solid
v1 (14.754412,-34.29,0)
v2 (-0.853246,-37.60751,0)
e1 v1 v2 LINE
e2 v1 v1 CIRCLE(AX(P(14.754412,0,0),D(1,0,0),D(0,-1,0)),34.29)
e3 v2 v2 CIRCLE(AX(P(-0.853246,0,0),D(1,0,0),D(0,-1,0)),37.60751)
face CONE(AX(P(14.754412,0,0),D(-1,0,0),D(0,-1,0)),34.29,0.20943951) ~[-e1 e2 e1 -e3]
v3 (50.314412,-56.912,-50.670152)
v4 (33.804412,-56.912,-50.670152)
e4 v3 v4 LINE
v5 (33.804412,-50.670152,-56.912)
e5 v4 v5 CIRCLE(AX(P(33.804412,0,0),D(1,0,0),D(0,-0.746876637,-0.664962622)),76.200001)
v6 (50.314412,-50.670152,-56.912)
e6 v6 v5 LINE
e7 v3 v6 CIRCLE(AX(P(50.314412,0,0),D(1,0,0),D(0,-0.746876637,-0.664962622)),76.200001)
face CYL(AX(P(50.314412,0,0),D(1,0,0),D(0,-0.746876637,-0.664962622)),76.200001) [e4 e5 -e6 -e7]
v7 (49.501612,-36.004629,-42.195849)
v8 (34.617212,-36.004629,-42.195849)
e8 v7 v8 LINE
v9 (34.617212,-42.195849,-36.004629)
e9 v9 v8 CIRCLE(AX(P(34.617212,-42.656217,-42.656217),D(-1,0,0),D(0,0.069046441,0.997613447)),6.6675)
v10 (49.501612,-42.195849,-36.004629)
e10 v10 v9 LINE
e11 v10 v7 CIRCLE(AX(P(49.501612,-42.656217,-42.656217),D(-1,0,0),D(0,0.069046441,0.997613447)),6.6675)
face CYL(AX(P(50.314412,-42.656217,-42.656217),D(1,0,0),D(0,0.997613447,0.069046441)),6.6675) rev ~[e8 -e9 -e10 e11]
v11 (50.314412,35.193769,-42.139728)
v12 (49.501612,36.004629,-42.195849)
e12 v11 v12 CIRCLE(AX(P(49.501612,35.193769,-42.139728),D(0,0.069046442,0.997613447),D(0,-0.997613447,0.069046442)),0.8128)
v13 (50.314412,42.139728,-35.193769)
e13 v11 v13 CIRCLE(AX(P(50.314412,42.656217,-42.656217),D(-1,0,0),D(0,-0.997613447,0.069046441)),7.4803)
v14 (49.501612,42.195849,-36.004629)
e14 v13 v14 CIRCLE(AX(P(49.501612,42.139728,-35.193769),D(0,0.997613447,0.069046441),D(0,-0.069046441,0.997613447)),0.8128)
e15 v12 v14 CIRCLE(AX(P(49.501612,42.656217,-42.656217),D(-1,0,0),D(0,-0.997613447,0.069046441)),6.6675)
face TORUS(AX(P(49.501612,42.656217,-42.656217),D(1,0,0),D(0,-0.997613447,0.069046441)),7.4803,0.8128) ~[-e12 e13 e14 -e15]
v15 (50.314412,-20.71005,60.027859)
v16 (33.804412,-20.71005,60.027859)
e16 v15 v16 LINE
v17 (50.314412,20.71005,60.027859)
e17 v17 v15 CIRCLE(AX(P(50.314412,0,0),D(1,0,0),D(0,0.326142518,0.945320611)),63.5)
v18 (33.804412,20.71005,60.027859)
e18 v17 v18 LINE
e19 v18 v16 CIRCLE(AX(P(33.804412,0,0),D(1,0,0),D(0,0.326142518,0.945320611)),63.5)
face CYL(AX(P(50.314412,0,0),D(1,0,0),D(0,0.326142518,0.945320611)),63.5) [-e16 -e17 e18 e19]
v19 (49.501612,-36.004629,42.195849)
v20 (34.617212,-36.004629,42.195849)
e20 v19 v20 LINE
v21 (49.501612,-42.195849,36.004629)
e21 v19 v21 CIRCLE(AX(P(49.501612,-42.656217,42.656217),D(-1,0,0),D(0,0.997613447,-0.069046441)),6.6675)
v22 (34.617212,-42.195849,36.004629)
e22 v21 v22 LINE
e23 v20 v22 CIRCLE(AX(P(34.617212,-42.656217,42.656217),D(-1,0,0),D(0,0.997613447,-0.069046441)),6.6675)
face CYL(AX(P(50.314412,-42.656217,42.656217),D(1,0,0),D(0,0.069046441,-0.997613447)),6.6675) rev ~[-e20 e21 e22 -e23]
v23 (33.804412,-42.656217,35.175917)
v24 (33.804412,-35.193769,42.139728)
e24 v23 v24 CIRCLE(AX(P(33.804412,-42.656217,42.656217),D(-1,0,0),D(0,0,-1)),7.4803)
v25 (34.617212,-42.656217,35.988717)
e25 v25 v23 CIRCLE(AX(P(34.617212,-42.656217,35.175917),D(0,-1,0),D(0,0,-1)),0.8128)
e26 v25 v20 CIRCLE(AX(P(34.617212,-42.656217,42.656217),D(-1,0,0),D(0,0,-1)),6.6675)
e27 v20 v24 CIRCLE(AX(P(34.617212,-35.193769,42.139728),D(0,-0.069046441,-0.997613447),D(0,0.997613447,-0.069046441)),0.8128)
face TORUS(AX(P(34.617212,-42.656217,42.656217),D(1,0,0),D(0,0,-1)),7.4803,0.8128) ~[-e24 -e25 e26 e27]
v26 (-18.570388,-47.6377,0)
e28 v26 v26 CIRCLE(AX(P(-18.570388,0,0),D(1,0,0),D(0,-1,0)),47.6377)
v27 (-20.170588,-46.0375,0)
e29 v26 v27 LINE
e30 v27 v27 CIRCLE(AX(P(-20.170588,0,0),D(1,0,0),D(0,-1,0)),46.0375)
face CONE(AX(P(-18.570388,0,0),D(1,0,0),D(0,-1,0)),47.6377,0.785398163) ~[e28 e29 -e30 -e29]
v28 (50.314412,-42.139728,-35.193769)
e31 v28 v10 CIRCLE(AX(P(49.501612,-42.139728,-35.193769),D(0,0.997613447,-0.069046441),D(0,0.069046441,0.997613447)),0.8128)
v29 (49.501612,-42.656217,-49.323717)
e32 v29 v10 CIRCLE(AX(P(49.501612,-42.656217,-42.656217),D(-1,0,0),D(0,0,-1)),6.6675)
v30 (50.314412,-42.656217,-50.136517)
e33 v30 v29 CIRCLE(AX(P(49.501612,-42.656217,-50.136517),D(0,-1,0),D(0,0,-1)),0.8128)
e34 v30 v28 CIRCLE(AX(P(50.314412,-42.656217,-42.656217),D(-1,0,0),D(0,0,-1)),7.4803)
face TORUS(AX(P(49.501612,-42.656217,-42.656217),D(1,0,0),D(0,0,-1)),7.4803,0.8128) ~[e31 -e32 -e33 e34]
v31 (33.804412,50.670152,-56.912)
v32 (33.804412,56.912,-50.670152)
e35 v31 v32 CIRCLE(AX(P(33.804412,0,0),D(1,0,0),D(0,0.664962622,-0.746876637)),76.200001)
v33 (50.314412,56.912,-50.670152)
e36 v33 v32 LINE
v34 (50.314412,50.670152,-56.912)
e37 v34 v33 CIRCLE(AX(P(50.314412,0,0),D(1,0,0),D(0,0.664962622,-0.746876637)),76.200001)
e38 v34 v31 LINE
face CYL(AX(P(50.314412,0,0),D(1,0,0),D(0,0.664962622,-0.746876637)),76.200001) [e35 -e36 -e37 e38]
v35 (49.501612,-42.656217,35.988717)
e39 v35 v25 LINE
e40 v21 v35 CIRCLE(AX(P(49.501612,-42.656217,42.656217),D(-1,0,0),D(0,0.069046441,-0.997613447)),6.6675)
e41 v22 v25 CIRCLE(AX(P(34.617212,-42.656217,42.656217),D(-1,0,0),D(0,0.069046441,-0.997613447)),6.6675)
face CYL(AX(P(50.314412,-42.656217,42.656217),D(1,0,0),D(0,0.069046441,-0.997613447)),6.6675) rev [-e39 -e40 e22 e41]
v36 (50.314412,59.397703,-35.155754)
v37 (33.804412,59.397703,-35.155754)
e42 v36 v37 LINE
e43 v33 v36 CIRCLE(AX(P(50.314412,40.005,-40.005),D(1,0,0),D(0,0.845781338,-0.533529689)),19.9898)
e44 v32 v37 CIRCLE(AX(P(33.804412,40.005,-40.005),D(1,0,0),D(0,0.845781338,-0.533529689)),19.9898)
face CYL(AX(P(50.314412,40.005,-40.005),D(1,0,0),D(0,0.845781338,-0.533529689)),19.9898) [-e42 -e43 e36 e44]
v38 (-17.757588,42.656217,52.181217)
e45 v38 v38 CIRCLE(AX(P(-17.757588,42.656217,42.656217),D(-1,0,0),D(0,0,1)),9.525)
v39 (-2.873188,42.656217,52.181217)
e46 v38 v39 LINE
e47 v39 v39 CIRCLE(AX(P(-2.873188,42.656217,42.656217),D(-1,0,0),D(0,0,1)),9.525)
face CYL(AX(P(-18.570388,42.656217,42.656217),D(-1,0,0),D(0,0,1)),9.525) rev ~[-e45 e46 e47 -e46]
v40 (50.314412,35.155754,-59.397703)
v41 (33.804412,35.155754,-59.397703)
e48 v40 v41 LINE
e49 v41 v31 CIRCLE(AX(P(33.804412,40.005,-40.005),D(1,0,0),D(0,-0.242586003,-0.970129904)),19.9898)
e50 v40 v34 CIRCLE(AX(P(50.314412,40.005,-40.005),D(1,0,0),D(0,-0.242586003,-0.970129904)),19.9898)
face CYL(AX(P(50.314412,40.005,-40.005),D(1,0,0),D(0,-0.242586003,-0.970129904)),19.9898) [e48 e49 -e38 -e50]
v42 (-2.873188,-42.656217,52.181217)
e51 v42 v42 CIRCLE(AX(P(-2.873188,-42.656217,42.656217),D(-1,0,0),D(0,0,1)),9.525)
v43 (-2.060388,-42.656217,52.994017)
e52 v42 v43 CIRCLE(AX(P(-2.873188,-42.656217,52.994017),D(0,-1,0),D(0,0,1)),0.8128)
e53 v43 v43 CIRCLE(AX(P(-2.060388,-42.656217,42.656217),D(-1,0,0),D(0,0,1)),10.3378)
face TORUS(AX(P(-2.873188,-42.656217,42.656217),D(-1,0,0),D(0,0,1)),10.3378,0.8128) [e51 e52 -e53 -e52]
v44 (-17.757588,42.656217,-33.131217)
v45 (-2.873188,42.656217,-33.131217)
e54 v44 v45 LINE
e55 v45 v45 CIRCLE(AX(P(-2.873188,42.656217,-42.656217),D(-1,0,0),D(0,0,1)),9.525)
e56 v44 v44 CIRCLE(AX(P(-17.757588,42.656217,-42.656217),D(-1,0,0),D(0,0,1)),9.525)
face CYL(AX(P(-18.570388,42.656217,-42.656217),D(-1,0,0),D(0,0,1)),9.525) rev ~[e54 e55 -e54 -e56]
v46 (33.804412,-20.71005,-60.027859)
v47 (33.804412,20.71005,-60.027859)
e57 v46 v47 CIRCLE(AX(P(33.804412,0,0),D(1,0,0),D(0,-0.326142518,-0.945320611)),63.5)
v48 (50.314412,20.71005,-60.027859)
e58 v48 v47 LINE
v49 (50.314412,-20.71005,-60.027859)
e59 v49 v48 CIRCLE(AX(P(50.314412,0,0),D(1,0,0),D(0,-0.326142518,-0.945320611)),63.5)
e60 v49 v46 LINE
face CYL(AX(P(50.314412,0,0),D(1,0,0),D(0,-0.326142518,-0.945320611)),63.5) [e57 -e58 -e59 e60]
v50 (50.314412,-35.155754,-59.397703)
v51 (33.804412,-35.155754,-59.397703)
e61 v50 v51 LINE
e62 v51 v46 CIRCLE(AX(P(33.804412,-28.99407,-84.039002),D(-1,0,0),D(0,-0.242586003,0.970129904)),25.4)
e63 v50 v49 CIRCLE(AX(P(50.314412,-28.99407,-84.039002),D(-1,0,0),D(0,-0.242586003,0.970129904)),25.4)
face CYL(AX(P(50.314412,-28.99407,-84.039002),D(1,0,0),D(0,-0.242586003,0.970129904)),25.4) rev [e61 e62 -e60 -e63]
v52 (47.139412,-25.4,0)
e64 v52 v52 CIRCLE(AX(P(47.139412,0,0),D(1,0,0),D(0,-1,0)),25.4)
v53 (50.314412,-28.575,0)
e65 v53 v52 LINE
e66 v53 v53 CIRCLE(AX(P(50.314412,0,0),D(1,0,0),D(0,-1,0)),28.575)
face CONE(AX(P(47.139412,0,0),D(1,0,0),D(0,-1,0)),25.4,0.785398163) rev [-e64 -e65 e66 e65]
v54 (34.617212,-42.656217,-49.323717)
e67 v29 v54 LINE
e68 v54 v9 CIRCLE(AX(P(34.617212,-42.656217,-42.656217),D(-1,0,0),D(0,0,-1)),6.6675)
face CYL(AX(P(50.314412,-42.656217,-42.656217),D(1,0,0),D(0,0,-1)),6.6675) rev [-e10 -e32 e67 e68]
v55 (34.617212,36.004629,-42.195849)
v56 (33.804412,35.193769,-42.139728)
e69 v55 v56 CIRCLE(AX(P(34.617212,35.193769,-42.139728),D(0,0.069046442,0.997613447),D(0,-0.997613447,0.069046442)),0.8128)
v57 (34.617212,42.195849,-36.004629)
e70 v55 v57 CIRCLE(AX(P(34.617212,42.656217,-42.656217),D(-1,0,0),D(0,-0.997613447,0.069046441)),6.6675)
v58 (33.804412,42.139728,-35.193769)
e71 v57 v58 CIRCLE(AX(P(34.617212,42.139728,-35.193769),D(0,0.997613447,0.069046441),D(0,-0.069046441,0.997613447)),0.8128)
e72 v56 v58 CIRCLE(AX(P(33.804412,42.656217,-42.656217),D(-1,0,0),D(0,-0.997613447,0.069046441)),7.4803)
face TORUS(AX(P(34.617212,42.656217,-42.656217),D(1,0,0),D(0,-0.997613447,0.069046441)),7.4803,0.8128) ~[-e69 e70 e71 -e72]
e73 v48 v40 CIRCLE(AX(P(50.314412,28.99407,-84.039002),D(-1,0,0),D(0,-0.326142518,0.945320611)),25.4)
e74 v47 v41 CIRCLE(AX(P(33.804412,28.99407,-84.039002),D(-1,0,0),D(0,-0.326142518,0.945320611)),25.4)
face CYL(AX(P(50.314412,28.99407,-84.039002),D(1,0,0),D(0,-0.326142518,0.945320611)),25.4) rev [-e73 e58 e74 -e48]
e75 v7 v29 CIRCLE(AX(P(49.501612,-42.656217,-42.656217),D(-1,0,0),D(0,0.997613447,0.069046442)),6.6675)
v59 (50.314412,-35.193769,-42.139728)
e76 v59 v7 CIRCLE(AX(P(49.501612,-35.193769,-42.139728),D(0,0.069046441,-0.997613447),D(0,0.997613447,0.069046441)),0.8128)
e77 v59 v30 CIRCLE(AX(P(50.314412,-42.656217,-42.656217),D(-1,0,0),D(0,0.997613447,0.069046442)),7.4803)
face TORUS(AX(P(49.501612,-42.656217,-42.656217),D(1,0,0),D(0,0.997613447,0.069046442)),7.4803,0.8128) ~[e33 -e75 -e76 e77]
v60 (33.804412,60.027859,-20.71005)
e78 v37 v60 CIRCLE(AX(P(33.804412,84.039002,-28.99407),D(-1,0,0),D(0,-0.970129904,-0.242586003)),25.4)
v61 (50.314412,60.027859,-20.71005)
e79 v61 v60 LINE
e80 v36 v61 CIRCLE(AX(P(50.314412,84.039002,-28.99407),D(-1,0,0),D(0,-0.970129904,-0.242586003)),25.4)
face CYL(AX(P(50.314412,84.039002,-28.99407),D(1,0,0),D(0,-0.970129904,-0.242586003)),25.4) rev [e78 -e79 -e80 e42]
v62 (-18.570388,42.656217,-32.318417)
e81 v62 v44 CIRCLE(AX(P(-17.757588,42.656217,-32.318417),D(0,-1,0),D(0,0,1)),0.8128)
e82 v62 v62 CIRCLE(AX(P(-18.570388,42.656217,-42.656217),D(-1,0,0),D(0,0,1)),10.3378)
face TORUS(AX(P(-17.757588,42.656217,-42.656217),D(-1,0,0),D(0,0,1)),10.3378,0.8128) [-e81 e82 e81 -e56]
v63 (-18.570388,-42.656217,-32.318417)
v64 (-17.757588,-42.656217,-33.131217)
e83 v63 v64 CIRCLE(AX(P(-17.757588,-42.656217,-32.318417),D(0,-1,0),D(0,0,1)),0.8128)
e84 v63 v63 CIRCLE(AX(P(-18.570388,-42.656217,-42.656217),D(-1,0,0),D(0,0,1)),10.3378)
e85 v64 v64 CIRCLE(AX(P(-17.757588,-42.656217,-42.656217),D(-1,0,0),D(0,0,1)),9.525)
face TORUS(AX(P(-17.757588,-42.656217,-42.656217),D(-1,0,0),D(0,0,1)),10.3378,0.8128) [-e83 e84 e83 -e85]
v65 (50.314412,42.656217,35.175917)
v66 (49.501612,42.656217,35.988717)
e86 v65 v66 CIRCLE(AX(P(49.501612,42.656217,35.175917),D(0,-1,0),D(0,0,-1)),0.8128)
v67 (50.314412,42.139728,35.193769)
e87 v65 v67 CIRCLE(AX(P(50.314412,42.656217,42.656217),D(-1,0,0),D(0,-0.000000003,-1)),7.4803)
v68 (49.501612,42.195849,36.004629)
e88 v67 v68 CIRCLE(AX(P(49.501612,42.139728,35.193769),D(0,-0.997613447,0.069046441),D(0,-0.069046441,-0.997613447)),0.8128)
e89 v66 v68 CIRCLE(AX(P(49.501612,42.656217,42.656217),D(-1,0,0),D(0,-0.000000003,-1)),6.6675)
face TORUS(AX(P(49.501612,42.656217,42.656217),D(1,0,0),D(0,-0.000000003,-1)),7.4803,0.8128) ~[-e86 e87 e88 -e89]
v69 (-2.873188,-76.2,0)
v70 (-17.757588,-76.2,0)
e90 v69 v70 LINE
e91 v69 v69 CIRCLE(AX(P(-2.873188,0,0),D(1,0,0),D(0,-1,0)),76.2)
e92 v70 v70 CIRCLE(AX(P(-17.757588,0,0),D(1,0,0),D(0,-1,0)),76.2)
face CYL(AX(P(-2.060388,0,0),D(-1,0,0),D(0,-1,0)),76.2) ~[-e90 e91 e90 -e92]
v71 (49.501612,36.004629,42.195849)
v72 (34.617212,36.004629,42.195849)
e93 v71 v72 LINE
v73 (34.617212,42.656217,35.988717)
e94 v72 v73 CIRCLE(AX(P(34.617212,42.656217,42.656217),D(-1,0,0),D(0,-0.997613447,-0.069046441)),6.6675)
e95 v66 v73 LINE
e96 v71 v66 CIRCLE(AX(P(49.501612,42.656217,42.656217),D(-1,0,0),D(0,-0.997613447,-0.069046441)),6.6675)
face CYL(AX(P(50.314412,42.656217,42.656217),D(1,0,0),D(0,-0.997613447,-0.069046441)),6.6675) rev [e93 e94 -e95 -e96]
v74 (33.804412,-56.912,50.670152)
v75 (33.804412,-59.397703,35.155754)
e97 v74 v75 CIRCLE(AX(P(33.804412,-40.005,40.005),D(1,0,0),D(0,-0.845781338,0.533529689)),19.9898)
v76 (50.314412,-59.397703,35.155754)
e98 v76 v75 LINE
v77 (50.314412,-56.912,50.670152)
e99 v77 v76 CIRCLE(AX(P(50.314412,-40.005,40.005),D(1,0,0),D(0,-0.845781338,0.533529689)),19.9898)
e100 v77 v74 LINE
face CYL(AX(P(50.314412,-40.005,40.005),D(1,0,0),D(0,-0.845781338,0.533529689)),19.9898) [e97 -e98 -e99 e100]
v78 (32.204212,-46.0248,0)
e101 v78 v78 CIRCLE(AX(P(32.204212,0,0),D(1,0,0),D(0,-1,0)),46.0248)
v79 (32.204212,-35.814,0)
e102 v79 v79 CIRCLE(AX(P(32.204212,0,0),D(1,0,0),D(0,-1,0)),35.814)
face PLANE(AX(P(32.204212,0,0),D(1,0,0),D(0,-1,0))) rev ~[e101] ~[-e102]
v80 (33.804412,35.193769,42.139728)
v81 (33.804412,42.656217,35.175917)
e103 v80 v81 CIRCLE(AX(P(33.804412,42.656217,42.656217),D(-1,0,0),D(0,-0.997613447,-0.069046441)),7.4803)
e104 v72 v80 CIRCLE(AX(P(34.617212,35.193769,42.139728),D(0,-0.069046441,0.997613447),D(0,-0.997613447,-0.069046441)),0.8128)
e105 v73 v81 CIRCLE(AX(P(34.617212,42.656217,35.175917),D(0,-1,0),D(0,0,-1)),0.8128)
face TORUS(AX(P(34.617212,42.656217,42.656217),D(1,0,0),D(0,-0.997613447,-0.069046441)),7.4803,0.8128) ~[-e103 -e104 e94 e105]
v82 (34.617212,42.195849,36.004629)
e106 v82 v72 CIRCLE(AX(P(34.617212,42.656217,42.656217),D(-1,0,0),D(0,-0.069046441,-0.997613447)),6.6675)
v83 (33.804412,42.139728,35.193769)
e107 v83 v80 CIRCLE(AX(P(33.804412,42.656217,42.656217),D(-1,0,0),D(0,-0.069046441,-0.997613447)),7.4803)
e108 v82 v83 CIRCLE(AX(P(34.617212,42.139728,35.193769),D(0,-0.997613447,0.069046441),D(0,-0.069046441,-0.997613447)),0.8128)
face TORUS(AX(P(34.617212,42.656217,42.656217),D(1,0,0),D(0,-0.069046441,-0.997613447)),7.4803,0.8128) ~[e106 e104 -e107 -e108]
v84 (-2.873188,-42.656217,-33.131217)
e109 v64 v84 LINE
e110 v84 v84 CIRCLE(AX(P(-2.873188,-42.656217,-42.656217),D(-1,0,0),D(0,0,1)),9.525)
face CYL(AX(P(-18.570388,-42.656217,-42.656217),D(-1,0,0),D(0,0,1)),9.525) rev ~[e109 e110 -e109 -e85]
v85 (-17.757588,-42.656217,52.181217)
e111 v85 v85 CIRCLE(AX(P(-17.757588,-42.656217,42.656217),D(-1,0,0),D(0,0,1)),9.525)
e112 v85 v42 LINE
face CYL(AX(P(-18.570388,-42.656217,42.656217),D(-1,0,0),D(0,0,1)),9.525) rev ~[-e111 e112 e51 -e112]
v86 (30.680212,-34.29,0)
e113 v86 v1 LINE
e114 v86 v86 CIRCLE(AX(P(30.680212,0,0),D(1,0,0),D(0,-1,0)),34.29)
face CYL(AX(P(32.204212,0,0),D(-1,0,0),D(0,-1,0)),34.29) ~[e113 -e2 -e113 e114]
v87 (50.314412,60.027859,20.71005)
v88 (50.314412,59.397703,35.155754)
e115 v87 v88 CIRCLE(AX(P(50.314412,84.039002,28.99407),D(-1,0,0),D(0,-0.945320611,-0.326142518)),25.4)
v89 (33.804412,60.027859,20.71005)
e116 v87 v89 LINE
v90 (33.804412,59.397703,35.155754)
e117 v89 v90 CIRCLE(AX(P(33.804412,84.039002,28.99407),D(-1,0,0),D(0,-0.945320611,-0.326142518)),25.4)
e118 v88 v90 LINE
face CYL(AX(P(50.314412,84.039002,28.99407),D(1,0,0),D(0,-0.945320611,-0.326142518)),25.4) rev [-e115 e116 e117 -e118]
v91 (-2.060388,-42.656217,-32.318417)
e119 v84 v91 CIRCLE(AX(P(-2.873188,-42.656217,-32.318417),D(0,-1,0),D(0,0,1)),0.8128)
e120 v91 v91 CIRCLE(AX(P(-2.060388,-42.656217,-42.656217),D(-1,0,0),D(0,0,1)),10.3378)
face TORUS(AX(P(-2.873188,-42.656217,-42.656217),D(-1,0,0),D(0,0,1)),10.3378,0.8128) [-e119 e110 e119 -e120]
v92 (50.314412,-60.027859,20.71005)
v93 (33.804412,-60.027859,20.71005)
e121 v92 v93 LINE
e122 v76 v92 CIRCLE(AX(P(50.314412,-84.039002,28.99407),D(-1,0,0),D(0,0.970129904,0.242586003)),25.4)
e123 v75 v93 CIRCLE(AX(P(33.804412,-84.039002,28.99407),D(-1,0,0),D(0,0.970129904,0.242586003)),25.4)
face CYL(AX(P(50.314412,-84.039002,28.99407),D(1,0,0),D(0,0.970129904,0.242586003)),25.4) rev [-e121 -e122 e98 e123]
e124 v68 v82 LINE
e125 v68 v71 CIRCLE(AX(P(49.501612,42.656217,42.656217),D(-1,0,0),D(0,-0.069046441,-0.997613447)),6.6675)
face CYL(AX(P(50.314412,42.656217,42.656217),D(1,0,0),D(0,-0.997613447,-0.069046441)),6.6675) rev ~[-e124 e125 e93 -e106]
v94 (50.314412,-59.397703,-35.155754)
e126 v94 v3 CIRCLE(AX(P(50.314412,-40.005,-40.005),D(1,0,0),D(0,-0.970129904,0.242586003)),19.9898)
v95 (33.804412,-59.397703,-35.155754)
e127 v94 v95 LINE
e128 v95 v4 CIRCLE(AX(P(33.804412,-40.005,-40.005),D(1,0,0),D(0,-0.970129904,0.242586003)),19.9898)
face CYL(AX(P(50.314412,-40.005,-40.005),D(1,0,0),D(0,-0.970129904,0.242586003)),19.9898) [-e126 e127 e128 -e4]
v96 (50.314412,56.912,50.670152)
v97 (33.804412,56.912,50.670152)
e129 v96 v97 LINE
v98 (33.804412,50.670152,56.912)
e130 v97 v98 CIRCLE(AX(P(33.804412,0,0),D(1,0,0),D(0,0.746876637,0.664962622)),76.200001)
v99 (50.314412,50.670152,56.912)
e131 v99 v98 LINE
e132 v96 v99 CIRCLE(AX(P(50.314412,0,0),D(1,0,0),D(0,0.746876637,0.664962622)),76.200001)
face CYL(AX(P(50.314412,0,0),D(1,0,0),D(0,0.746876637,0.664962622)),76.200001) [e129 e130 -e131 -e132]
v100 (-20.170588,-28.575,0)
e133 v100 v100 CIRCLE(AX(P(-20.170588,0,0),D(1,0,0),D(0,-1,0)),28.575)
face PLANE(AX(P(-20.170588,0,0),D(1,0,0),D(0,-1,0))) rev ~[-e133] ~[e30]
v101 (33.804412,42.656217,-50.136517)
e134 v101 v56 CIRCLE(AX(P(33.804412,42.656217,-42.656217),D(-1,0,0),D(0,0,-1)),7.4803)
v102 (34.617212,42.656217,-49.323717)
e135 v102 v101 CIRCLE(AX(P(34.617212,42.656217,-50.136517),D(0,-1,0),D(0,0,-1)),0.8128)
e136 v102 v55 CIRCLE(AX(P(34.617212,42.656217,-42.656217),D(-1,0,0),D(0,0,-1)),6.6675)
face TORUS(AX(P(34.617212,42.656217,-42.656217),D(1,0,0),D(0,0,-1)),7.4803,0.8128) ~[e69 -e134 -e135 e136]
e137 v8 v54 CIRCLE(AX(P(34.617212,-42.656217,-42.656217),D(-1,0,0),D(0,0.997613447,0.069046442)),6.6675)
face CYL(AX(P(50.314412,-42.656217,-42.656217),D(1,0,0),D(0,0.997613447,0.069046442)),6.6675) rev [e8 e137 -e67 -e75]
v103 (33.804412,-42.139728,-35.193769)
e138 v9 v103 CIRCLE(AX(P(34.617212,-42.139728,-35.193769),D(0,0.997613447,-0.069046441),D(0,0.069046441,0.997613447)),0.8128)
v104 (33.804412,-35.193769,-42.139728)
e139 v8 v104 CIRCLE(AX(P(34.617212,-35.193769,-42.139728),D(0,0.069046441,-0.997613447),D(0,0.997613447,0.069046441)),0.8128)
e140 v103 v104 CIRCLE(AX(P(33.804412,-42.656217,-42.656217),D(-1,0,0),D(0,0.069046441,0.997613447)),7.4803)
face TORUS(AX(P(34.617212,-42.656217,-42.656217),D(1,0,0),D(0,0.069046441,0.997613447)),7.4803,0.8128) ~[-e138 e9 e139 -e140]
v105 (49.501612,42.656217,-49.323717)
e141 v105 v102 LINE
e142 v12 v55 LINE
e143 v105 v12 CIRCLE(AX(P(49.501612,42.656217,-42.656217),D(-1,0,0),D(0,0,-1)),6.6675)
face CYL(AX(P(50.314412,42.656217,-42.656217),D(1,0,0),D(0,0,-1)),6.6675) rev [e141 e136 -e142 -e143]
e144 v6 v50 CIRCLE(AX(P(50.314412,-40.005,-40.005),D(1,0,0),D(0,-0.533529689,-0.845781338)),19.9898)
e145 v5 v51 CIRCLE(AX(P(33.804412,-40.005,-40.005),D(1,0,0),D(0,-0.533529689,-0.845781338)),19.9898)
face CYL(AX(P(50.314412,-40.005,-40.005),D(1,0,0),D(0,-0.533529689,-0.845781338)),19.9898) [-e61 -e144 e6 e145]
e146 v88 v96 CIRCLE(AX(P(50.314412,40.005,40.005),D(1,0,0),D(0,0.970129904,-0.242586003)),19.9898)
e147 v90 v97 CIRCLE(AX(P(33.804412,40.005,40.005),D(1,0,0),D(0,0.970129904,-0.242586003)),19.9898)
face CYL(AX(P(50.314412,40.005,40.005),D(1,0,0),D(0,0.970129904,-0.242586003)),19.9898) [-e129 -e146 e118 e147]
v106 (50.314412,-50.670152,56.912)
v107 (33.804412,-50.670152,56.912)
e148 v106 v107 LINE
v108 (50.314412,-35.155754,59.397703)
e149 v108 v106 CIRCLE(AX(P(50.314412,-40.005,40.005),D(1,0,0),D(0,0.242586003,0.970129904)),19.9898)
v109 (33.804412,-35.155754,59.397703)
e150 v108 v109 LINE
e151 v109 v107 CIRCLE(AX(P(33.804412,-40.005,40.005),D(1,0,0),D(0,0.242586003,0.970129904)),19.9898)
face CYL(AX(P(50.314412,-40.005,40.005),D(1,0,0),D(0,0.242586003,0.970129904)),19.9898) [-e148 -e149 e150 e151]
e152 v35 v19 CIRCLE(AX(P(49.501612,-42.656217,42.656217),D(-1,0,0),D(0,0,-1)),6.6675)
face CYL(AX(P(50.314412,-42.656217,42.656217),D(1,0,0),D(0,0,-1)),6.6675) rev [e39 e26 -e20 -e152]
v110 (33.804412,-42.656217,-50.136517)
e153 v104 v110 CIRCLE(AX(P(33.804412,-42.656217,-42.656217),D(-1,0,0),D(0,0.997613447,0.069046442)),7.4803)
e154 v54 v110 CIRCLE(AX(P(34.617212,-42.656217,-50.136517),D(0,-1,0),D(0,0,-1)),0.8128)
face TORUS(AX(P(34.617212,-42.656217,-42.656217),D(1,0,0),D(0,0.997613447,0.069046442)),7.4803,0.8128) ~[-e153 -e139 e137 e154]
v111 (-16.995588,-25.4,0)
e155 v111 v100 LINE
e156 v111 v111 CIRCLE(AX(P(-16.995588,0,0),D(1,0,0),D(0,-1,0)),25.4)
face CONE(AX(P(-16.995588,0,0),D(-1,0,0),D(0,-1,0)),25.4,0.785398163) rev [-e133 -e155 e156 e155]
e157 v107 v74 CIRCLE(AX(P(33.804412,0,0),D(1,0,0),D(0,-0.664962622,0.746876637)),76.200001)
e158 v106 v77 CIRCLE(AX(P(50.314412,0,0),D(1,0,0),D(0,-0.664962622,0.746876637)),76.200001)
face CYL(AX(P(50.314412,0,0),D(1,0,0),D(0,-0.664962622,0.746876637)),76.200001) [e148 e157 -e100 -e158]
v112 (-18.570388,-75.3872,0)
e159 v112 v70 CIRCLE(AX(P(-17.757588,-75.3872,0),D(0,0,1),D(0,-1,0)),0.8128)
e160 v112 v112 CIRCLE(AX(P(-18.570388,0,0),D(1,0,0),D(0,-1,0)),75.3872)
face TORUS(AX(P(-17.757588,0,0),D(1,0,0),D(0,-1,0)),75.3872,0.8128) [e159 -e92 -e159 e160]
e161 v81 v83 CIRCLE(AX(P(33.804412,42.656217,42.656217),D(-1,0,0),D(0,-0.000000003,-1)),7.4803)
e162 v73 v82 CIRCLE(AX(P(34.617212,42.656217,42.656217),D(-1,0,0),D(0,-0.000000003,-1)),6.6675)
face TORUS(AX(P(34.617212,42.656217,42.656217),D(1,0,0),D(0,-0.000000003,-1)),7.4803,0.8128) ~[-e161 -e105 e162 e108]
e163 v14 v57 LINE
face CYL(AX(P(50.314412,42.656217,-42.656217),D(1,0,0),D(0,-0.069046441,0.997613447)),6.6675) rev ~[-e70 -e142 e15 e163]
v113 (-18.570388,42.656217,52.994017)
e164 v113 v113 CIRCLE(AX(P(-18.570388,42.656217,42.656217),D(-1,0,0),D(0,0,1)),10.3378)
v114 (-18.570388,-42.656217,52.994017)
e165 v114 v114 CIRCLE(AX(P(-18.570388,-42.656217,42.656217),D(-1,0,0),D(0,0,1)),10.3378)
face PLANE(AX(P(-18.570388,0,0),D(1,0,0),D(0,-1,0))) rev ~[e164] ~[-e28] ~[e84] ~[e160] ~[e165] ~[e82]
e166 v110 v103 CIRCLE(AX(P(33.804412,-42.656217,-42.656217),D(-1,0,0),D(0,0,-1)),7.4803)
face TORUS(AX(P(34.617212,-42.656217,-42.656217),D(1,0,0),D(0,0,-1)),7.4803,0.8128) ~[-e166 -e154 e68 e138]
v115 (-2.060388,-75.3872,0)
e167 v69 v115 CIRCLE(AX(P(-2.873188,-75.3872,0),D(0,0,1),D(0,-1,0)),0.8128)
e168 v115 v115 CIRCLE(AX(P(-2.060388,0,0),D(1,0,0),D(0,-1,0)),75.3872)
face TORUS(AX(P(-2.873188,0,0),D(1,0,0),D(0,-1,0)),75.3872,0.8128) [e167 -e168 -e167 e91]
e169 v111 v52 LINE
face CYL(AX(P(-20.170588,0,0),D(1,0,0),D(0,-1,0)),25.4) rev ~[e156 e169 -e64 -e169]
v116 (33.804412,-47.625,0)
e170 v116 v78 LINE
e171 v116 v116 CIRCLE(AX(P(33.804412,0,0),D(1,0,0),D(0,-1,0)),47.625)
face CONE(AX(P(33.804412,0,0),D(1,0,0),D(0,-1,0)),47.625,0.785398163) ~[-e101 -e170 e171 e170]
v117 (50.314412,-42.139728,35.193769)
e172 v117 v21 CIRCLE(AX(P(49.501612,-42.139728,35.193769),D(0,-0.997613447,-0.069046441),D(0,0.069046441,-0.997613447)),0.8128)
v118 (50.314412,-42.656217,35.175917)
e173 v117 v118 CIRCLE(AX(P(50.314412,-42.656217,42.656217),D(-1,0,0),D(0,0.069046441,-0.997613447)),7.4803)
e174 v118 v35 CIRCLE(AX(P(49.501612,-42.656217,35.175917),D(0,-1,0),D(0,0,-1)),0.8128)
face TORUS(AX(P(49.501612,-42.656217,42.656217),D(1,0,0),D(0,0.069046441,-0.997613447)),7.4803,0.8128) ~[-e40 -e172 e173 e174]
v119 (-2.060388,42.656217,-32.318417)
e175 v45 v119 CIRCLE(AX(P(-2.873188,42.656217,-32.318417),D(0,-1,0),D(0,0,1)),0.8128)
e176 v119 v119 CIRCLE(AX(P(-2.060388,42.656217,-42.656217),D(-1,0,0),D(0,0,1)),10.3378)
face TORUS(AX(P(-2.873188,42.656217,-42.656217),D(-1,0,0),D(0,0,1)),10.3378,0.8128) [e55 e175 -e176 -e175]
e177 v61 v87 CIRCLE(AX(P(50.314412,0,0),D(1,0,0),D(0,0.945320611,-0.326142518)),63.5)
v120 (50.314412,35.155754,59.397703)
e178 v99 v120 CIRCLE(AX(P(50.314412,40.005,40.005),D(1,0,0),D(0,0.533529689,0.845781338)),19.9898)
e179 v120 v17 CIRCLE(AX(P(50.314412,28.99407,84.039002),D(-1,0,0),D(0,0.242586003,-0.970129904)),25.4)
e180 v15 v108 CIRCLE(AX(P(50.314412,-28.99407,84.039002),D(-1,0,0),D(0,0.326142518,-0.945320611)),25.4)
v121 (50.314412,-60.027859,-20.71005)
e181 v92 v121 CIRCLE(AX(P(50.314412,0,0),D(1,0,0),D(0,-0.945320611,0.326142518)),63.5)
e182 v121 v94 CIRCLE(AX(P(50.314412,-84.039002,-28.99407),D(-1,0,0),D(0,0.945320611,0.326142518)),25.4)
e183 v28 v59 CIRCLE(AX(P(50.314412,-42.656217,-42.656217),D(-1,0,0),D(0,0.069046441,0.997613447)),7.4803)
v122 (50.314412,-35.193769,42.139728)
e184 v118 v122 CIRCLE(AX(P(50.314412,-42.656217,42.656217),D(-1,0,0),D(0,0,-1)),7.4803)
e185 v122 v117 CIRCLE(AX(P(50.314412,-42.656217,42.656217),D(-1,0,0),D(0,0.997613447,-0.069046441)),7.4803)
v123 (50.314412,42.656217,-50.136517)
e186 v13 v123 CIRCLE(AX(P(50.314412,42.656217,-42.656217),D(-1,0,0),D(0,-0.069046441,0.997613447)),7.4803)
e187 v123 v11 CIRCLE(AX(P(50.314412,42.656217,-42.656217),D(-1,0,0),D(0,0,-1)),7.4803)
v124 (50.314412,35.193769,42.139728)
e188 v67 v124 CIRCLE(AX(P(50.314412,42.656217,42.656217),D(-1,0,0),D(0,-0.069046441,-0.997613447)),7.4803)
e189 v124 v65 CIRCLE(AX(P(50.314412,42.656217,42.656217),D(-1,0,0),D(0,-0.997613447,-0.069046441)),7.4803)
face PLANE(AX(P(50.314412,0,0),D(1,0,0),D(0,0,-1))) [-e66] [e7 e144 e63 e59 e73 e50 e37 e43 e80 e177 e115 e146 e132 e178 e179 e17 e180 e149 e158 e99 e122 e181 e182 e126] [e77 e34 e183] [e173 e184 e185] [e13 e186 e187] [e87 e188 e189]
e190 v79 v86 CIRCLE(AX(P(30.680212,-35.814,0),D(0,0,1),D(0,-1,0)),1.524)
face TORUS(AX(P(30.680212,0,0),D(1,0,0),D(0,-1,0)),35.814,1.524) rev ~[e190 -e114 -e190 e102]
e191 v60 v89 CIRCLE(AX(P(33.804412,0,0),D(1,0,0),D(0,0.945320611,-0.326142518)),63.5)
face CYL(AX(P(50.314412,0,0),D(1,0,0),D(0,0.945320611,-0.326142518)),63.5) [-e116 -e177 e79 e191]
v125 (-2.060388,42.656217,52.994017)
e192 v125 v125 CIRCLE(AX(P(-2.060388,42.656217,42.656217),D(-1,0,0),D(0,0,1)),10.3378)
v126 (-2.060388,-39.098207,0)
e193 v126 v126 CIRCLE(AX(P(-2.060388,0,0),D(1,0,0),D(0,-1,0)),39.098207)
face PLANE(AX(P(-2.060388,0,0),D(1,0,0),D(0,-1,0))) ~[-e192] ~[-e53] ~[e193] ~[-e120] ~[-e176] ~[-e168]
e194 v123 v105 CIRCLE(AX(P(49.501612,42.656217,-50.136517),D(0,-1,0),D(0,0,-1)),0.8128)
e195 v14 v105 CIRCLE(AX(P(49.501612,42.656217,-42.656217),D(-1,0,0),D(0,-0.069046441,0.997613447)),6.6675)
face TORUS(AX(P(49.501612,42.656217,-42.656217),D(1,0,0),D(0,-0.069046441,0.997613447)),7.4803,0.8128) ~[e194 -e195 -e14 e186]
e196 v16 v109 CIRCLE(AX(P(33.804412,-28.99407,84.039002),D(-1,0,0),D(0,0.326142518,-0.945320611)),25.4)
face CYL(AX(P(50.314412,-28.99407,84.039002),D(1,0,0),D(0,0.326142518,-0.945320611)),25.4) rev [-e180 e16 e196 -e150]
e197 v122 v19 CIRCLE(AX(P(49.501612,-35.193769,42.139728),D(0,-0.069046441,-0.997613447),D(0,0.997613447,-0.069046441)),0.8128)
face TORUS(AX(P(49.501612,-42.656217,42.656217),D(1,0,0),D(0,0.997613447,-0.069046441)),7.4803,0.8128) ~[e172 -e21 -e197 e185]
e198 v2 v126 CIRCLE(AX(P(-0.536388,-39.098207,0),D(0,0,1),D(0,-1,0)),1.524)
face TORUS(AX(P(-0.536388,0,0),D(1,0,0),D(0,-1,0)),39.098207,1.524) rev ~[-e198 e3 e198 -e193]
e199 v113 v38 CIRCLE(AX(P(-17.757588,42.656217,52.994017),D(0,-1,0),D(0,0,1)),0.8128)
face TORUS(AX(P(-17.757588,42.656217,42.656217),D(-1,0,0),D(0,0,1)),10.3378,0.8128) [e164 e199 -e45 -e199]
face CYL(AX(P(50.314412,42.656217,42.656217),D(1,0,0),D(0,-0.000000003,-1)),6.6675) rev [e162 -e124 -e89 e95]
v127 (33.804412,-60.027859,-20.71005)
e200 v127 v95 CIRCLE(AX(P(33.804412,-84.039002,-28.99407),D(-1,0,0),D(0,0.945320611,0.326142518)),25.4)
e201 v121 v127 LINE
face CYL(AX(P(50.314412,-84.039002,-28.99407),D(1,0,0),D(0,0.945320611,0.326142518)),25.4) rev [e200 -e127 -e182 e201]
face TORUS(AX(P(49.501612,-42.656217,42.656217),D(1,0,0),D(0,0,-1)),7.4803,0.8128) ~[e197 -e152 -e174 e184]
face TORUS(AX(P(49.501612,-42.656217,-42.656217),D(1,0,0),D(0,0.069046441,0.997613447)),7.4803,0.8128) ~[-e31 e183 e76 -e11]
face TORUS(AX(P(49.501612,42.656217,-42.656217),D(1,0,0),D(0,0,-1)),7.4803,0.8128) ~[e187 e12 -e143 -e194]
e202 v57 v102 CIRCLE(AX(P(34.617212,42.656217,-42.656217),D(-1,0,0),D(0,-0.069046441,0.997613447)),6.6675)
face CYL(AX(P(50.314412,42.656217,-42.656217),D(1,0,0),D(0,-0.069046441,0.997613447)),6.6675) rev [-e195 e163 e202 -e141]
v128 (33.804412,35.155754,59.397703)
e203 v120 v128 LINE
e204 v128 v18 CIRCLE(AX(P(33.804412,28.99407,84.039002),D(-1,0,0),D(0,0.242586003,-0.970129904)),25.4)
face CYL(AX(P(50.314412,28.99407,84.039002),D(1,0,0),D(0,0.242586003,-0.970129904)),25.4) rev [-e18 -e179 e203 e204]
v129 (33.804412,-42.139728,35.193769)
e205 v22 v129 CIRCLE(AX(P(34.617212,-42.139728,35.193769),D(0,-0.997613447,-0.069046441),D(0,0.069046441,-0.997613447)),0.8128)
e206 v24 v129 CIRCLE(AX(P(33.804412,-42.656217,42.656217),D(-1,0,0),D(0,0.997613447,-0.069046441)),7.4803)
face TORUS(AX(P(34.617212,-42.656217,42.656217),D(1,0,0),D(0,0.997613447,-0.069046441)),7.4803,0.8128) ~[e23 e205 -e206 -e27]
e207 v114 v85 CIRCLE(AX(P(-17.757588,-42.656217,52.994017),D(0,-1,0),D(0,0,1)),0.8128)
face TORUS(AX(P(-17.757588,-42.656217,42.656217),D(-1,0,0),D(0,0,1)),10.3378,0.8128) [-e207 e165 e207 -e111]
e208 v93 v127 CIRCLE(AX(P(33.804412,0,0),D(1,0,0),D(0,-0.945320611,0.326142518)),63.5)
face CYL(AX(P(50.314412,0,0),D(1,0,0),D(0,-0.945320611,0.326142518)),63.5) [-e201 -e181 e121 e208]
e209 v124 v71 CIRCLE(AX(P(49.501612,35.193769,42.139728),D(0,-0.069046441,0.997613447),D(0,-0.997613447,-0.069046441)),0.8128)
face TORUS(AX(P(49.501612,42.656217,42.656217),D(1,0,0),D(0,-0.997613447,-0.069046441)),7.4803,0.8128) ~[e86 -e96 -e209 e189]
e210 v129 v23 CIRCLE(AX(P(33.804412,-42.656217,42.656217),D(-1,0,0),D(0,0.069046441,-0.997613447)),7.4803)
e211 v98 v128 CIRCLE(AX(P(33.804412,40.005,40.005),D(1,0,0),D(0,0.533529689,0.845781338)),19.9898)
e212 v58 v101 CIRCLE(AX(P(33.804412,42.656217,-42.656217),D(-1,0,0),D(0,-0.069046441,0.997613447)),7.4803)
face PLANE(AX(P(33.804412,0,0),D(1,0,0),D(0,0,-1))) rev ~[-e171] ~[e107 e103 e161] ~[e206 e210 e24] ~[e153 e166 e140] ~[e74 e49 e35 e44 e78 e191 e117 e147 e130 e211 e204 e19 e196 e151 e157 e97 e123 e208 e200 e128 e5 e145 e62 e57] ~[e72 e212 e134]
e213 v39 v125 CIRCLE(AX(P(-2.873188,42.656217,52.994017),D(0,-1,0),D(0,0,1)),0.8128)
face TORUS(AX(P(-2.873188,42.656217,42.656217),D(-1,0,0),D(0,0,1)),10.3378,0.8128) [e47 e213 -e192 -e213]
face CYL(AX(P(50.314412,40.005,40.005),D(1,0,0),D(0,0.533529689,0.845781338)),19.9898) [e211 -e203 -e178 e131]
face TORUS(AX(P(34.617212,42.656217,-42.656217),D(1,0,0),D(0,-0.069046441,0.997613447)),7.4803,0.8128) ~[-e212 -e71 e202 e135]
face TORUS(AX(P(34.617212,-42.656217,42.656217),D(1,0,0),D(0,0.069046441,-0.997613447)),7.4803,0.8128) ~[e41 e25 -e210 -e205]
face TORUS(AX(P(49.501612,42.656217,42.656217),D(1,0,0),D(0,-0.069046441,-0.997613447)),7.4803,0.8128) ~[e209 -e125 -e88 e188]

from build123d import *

# Parameters (mm, degrees)
BOSS_EXTRUDE1_START = -16.51
BOSS_EXTRUDE1_DEPTH = 16.51
CUT_EXTRUDE1_DEPTH  = 129.767290975
FILLET1_R           = 1.524
CHAMFER1_SIZE       = 3.175
CUT_EXTRUDE2_REACH  = 129.898
SKETCH4_R           = 9.525
FILLET2_R           = 0.8128


with BuildPart() as part:
    # Sketch2 → Revolve1 (revolve)
    with BuildSketch(Plane.XY):
        Polygon((-20.170588235, -25.4), (50.314411765, -25.4), (50.314411765, -55.469117647), (33.804411765, -55.469117647), (33.804411765, -47.625), (32.204211765, -46.0248), (32.204211765, -34.29), (14.754411765, -34.29), (-2.060388235, -37.864096073), (-2.060388235, -76.2), (-18.570388235, -76.2), (-18.570388235, -47.6377), (-20.170588235, -46.0375), align=None)
    revolve(axis=Axis((-79.001470588, 0, 0), (1, 0, 0)))

    # Sketch3 → Boss-Extrude1 (add)
    with BuildSketch(Plane(origin=(50.314411765, 0, 0), x_dir=(0, 0, -1), z_dir=(1, 0, 0)).offset(BOSS_EXTRUDE1_START)):
        with BuildLine():
            ThreePointArc((-59.397702762, 35.155754325), (-58.663134882, 27.887114056), (-60.027858809, 20.710049898))
            ThreePointArc((-60.027858809, 20.710049898), (-63.5, 0), (-60.027858809, -20.710049898))
            ThreePointArc((-60.027858809, -20.710049898), (-58.663134882, -27.887114056), (-59.397702762, -35.155754325))
            ThreePointArc((-59.397702762, -35.155754325), (-59.743065592, -43.167415334), (-56.911999787, -50.670151769))
            ThreePointArc((-56.911999787, -50.670151769), (-53.881536726, -53.881536726), (-50.670151769, -56.911999787))
            ThreePointArc((-50.670151769, -56.911999787), (-43.167415334, -59.743065592), (-35.155754325, -59.397702762))
            ThreePointArc((-35.155754325, -59.397702762), (-27.887114056, -58.663134882), (-20.710049898, -60.027858809))
            ThreePointArc((-20.710049898, -60.027858809), (0, -63.5), (20.710049898, -60.027858809))
            ThreePointArc((20.710049898, -60.027858809), (27.887114056, -58.663134882), (35.155754325, -59.397702762))
            ThreePointArc((35.155754325, -59.397702762), (43.167415334, -59.743065592), (50.670151769, -56.911999787))
            ThreePointArc((50.670151769, -56.911999787), (53.881536726, -53.881536726), (56.911999787, -50.670151769))
            ThreePointArc((56.911999787, -50.670151769), (59.743065592, -43.167415334), (59.397702762, -35.155754325))
            ThreePointArc((59.397702762, -35.155754325), (58.663134882, -27.887114056), (60.027858809, -20.710049898))
            ThreePointArc((60.027858809, -20.710049898), (63.5, 0), (60.027858809, 20.710049898))
            ThreePointArc((60.027858809, 20.710049898), (58.663134882, 27.887114056), (59.397702762, 35.155754325))
            ThreePointArc((59.397702762, 35.155754325), (59.743065592, 43.167415334), (56.911999787, 50.670151769))
            ThreePointArc((56.911999787, 50.670151769), (53.881536726, 53.881536726), (50.670151769, 56.911999787))
            ThreePointArc((50.670151769, 56.911999787), (43.167415334, 59.743065592), (35.155754325, 59.397702762))
            ThreePointArc((35.155754325, 59.397702762), (27.887114056, 58.663134882), (20.710049898, 60.027858809))
            ThreePointArc((20.710049898, 60.027858809), (0, 63.5), (-20.710049898, 60.027858809))
            ThreePointArc((-20.710049898, 60.027858809), (-27.887114056, 58.663134882), (-35.155754325, 59.397702762))
            ThreePointArc((-35.155754325, 59.397702762), (-43.167415334, 59.743065592), (-50.670151769, 56.911999787))
            ThreePointArc((-50.670151769, 56.911999787), (-53.881536726, 53.881536726), (-56.911999787, 50.670151769))
            ThreePointArc((-56.911999787, 50.670151769), (-59.743065592, 43.167415334), (-59.397702762, 35.155754325))
        make_face()
        with BuildLine():
            ThreePointArc((-42.195849428, 36.00462892), (-47.530898832, 47.205175703), (-35.988716575, 42.656216575))
            ThreePointArc((-35.988716575, 42.656216575), (-35.992695849, 42.425895542), (-36.00462892, 42.195849428))
            ThreePointArc((-36.00462892, 42.195849428), (0, 55.469117647), (36.00462892, 42.195849428))
            ThreePointArc((36.00462892, 42.195849428), (42.425895542, 49.319737302), (49.323716575, 42.656216575))
            ThreePointArc((49.323716575, 42.656216575), (47.205175703, 37.781534318), (42.195849428, 36.00462892))
            ThreePointArc((42.195849428, 36.00462892), (52.045122484, 19.186668242), (55.469117647, 0))
            ThreePointArc((55.469117647, 0), (52.045122484, -19.186668242), (42.195849428, -36.00462892))
            ThreePointArc((42.195849428, -36.00462892), (47.205175703, -37.781534318), (49.323716575, -42.656216575))
            ThreePointArc((49.323716575, -42.656216575), (42.425895542, -49.319737302), (36.00462892, -42.195849428))
            ThreePointArc((36.00462892, -42.195849428), (0, -55.469117647), (-36.00462892, -42.195849428))
            ThreePointArc((-36.00462892, -42.195849428), (-35.992695849, -42.425895542), (-35.988716575, -42.656216575))
            ThreePointArc((-35.988716575, -42.656216575), (-47.530898832, -47.205175703), (-42.195849428, -36.00462892))
            ThreePointArc((-42.195849428, -36.00462892), (-55.469117647, 0), (-42.195849428, 36.00462892))
        make_face(mode=Mode.SUBTRACT)
    extrude(amount=BOSS_EXTRUDE1_DEPTH)

    # Sketch3<3> → Cut-Extrude1 (cut, through all)
    with BuildSketch(Plane(origin=(50.314411765, 0, 0), x_dir=(0, 0, -1), z_dir=(1, 0, 0))):
        with BuildLine():
            ThreePointArc((-36.00462892, 42.195849428), (-39.222589235, 39.222589235), (-42.195849428, 36.00462892))
            ThreePointArc((-42.195849428, 36.00462892), (-37.941582112, 37.941582112), (-36.00462892, 42.195849428))
        make_face()
        with BuildLine():
            ThreePointArc((-36.00462892, -42.195849428), (-37.941582112, -37.941582112), (-42.195849428, -36.00462892))
            ThreePointArc((-42.195849428, -36.00462892), (-39.222589235, -39.222589235), (-36.00462892, -42.195849428))
        make_face()
        with BuildLine():
            ThreePointArc((42.195849428, 36.00462892), (39.222589235, 39.222589235), (36.00462892, 42.195849428))
            ThreePointArc((36.00462892, 42.195849428), (37.941582112, 37.941582112), (42.195849428, 36.00462892))
        make_face()
        with BuildLine():
            ThreePointArc((42.195849428, -36.00462892), (37.941582112, -37.941582112), (36.00462892, -42.195849428))
            ThreePointArc((36.00462892, -42.195849428), (39.222589235, -39.222589235), (42.195849428, -36.00462892))
        make_face()
    extrude(amount=-CUT_EXTRUDE1_DEPTH, mode=Mode.SUBTRACT)

    # Fillet1
    fillet1_edges = [part.edges().sort_by_distance(p)[0] for p in [
        (32.204211765, 34.29, 0),
        (-2.060388235, 37.864096073, 0),
    ]]
    fillet(fillet1_edges, radius=FILLET1_R)

    # Chamfer1
    chamfer1_edges = [part.edges().sort_by_distance(p)[0] for p in [
        (50.314411765, 25.4, 0),
        (-20.170588235, 25.4, 0),
    ]]
    chamfer(chamfer1_edges, length=CHAMFER1_SIZE)

    # Sketch4 → Cut-Extrude2 (cut, up to next)
    with BuildSketch(Plane.ZY.offset(18.570388235), mode=Mode.PRIVATE) as cut_extrude2_sk1:
        with Locations((-42.656216575, 42.656216575)):
            Circle(SKETCH4_R)
    cut_extrude2_tool1 = extrude(cut_extrude2_sk1.sketch, amount=-CUT_EXTRUDE2_REACH, mode=Mode.PRIVATE) & part.part
    # Sketch4 → Cut-Extrude2 (cut, up to next)
    with BuildSketch(Plane.ZY.offset(18.570388235), mode=Mode.PRIVATE) as cut_extrude2_sk2:
        with Locations((42.656216575, 42.656216575)):
            Circle(SKETCH4_R)
    cut_extrude2_tool2 = extrude(cut_extrude2_sk2.sketch, amount=-CUT_EXTRUDE2_REACH, mode=Mode.PRIVATE) & part.part
    # Sketch4 → Cut-Extrude2 (cut, up to next)
    with BuildSketch(Plane.ZY.offset(18.570388235), mode=Mode.PRIVATE) as cut_extrude2_sk3:
        with Locations((42.656216575, -42.656216575)):
            Circle(SKETCH4_R)
    cut_extrude2_tool3 = extrude(cut_extrude2_sk3.sketch, amount=-CUT_EXTRUDE2_REACH, mode=Mode.PRIVATE) & part.part
    # Sketch4 → Cut-Extrude2 (cut, up to next)
    with BuildSketch(Plane.ZY.offset(18.570388235), mode=Mode.PRIVATE) as cut_extrude2_sk4:
        with Locations((-42.656216575, -42.656216575)):
            Circle(SKETCH4_R)
    cut_extrude2_tool4 = extrude(cut_extrude2_sk4.sketch, amount=-CUT_EXTRUDE2_REACH, mode=Mode.PRIVATE) & part.part
    add(cut_extrude2_tool1.solids().sort_by_distance((-18.570388, 42.656217, -42.656217))[0], mode=Mode.SUBTRACT)
    add(cut_extrude2_tool2.solids().sort_by_distance((-18.570388, 42.656217, 42.656217))[0], mode=Mode.SUBTRACT)
    add(cut_extrude2_tool3.solids().sort_by_distance((-18.570388, -42.656217, 42.656217))[0], mode=Mode.SUBTRACT)
    add(cut_extrude2_tool4.solids().sort_by_distance((-18.570388, -42.656217, -42.656217))[0], mode=Mode.SUBTRACT)

    # Fillet2
    fillet2_edges = [part.edges().sort_by_distance(p)[0] for p in [
        (33.804411765, -49.307804231, -43.116583723),
        (50.314411765, -49.307804231, -43.116583723),
        (33.804411765, -43.116583723, 49.307804231),
        (50.314411765, -43.116583723, 49.307804231),
        (33.804411765, 42.425895542, 35.992695849),
        (50.314411765, 42.425895542, 35.992695849),
        (33.804411765, 37.781534318, -47.205175703),
        (50.314411765, 37.781534318, -47.205175703),
        (-18.570388235, -42.656216575, 33.131216575),
        (-2.060388235, -42.656216575, 33.131216575),
        (-18.570388235, -42.656216575, -52.181216575),
        (-2.060388235, -42.656216575, -52.181216575),
        (-18.570388235, 42.656216575, 33.131216575),
        (-2.060388235, 42.656216575, 33.131216575),
        (-18.570388235, 42.656216575, -52.181216575),
        (-2.060388235, 42.656216575, -52.181216575),
        (-18.570388235, 76.2, 0),
        (-2.060388235, 76.2, 0),
    ]]
    fillet(fillet2_edges, radius=FILLET2_R)


solid = part.part
